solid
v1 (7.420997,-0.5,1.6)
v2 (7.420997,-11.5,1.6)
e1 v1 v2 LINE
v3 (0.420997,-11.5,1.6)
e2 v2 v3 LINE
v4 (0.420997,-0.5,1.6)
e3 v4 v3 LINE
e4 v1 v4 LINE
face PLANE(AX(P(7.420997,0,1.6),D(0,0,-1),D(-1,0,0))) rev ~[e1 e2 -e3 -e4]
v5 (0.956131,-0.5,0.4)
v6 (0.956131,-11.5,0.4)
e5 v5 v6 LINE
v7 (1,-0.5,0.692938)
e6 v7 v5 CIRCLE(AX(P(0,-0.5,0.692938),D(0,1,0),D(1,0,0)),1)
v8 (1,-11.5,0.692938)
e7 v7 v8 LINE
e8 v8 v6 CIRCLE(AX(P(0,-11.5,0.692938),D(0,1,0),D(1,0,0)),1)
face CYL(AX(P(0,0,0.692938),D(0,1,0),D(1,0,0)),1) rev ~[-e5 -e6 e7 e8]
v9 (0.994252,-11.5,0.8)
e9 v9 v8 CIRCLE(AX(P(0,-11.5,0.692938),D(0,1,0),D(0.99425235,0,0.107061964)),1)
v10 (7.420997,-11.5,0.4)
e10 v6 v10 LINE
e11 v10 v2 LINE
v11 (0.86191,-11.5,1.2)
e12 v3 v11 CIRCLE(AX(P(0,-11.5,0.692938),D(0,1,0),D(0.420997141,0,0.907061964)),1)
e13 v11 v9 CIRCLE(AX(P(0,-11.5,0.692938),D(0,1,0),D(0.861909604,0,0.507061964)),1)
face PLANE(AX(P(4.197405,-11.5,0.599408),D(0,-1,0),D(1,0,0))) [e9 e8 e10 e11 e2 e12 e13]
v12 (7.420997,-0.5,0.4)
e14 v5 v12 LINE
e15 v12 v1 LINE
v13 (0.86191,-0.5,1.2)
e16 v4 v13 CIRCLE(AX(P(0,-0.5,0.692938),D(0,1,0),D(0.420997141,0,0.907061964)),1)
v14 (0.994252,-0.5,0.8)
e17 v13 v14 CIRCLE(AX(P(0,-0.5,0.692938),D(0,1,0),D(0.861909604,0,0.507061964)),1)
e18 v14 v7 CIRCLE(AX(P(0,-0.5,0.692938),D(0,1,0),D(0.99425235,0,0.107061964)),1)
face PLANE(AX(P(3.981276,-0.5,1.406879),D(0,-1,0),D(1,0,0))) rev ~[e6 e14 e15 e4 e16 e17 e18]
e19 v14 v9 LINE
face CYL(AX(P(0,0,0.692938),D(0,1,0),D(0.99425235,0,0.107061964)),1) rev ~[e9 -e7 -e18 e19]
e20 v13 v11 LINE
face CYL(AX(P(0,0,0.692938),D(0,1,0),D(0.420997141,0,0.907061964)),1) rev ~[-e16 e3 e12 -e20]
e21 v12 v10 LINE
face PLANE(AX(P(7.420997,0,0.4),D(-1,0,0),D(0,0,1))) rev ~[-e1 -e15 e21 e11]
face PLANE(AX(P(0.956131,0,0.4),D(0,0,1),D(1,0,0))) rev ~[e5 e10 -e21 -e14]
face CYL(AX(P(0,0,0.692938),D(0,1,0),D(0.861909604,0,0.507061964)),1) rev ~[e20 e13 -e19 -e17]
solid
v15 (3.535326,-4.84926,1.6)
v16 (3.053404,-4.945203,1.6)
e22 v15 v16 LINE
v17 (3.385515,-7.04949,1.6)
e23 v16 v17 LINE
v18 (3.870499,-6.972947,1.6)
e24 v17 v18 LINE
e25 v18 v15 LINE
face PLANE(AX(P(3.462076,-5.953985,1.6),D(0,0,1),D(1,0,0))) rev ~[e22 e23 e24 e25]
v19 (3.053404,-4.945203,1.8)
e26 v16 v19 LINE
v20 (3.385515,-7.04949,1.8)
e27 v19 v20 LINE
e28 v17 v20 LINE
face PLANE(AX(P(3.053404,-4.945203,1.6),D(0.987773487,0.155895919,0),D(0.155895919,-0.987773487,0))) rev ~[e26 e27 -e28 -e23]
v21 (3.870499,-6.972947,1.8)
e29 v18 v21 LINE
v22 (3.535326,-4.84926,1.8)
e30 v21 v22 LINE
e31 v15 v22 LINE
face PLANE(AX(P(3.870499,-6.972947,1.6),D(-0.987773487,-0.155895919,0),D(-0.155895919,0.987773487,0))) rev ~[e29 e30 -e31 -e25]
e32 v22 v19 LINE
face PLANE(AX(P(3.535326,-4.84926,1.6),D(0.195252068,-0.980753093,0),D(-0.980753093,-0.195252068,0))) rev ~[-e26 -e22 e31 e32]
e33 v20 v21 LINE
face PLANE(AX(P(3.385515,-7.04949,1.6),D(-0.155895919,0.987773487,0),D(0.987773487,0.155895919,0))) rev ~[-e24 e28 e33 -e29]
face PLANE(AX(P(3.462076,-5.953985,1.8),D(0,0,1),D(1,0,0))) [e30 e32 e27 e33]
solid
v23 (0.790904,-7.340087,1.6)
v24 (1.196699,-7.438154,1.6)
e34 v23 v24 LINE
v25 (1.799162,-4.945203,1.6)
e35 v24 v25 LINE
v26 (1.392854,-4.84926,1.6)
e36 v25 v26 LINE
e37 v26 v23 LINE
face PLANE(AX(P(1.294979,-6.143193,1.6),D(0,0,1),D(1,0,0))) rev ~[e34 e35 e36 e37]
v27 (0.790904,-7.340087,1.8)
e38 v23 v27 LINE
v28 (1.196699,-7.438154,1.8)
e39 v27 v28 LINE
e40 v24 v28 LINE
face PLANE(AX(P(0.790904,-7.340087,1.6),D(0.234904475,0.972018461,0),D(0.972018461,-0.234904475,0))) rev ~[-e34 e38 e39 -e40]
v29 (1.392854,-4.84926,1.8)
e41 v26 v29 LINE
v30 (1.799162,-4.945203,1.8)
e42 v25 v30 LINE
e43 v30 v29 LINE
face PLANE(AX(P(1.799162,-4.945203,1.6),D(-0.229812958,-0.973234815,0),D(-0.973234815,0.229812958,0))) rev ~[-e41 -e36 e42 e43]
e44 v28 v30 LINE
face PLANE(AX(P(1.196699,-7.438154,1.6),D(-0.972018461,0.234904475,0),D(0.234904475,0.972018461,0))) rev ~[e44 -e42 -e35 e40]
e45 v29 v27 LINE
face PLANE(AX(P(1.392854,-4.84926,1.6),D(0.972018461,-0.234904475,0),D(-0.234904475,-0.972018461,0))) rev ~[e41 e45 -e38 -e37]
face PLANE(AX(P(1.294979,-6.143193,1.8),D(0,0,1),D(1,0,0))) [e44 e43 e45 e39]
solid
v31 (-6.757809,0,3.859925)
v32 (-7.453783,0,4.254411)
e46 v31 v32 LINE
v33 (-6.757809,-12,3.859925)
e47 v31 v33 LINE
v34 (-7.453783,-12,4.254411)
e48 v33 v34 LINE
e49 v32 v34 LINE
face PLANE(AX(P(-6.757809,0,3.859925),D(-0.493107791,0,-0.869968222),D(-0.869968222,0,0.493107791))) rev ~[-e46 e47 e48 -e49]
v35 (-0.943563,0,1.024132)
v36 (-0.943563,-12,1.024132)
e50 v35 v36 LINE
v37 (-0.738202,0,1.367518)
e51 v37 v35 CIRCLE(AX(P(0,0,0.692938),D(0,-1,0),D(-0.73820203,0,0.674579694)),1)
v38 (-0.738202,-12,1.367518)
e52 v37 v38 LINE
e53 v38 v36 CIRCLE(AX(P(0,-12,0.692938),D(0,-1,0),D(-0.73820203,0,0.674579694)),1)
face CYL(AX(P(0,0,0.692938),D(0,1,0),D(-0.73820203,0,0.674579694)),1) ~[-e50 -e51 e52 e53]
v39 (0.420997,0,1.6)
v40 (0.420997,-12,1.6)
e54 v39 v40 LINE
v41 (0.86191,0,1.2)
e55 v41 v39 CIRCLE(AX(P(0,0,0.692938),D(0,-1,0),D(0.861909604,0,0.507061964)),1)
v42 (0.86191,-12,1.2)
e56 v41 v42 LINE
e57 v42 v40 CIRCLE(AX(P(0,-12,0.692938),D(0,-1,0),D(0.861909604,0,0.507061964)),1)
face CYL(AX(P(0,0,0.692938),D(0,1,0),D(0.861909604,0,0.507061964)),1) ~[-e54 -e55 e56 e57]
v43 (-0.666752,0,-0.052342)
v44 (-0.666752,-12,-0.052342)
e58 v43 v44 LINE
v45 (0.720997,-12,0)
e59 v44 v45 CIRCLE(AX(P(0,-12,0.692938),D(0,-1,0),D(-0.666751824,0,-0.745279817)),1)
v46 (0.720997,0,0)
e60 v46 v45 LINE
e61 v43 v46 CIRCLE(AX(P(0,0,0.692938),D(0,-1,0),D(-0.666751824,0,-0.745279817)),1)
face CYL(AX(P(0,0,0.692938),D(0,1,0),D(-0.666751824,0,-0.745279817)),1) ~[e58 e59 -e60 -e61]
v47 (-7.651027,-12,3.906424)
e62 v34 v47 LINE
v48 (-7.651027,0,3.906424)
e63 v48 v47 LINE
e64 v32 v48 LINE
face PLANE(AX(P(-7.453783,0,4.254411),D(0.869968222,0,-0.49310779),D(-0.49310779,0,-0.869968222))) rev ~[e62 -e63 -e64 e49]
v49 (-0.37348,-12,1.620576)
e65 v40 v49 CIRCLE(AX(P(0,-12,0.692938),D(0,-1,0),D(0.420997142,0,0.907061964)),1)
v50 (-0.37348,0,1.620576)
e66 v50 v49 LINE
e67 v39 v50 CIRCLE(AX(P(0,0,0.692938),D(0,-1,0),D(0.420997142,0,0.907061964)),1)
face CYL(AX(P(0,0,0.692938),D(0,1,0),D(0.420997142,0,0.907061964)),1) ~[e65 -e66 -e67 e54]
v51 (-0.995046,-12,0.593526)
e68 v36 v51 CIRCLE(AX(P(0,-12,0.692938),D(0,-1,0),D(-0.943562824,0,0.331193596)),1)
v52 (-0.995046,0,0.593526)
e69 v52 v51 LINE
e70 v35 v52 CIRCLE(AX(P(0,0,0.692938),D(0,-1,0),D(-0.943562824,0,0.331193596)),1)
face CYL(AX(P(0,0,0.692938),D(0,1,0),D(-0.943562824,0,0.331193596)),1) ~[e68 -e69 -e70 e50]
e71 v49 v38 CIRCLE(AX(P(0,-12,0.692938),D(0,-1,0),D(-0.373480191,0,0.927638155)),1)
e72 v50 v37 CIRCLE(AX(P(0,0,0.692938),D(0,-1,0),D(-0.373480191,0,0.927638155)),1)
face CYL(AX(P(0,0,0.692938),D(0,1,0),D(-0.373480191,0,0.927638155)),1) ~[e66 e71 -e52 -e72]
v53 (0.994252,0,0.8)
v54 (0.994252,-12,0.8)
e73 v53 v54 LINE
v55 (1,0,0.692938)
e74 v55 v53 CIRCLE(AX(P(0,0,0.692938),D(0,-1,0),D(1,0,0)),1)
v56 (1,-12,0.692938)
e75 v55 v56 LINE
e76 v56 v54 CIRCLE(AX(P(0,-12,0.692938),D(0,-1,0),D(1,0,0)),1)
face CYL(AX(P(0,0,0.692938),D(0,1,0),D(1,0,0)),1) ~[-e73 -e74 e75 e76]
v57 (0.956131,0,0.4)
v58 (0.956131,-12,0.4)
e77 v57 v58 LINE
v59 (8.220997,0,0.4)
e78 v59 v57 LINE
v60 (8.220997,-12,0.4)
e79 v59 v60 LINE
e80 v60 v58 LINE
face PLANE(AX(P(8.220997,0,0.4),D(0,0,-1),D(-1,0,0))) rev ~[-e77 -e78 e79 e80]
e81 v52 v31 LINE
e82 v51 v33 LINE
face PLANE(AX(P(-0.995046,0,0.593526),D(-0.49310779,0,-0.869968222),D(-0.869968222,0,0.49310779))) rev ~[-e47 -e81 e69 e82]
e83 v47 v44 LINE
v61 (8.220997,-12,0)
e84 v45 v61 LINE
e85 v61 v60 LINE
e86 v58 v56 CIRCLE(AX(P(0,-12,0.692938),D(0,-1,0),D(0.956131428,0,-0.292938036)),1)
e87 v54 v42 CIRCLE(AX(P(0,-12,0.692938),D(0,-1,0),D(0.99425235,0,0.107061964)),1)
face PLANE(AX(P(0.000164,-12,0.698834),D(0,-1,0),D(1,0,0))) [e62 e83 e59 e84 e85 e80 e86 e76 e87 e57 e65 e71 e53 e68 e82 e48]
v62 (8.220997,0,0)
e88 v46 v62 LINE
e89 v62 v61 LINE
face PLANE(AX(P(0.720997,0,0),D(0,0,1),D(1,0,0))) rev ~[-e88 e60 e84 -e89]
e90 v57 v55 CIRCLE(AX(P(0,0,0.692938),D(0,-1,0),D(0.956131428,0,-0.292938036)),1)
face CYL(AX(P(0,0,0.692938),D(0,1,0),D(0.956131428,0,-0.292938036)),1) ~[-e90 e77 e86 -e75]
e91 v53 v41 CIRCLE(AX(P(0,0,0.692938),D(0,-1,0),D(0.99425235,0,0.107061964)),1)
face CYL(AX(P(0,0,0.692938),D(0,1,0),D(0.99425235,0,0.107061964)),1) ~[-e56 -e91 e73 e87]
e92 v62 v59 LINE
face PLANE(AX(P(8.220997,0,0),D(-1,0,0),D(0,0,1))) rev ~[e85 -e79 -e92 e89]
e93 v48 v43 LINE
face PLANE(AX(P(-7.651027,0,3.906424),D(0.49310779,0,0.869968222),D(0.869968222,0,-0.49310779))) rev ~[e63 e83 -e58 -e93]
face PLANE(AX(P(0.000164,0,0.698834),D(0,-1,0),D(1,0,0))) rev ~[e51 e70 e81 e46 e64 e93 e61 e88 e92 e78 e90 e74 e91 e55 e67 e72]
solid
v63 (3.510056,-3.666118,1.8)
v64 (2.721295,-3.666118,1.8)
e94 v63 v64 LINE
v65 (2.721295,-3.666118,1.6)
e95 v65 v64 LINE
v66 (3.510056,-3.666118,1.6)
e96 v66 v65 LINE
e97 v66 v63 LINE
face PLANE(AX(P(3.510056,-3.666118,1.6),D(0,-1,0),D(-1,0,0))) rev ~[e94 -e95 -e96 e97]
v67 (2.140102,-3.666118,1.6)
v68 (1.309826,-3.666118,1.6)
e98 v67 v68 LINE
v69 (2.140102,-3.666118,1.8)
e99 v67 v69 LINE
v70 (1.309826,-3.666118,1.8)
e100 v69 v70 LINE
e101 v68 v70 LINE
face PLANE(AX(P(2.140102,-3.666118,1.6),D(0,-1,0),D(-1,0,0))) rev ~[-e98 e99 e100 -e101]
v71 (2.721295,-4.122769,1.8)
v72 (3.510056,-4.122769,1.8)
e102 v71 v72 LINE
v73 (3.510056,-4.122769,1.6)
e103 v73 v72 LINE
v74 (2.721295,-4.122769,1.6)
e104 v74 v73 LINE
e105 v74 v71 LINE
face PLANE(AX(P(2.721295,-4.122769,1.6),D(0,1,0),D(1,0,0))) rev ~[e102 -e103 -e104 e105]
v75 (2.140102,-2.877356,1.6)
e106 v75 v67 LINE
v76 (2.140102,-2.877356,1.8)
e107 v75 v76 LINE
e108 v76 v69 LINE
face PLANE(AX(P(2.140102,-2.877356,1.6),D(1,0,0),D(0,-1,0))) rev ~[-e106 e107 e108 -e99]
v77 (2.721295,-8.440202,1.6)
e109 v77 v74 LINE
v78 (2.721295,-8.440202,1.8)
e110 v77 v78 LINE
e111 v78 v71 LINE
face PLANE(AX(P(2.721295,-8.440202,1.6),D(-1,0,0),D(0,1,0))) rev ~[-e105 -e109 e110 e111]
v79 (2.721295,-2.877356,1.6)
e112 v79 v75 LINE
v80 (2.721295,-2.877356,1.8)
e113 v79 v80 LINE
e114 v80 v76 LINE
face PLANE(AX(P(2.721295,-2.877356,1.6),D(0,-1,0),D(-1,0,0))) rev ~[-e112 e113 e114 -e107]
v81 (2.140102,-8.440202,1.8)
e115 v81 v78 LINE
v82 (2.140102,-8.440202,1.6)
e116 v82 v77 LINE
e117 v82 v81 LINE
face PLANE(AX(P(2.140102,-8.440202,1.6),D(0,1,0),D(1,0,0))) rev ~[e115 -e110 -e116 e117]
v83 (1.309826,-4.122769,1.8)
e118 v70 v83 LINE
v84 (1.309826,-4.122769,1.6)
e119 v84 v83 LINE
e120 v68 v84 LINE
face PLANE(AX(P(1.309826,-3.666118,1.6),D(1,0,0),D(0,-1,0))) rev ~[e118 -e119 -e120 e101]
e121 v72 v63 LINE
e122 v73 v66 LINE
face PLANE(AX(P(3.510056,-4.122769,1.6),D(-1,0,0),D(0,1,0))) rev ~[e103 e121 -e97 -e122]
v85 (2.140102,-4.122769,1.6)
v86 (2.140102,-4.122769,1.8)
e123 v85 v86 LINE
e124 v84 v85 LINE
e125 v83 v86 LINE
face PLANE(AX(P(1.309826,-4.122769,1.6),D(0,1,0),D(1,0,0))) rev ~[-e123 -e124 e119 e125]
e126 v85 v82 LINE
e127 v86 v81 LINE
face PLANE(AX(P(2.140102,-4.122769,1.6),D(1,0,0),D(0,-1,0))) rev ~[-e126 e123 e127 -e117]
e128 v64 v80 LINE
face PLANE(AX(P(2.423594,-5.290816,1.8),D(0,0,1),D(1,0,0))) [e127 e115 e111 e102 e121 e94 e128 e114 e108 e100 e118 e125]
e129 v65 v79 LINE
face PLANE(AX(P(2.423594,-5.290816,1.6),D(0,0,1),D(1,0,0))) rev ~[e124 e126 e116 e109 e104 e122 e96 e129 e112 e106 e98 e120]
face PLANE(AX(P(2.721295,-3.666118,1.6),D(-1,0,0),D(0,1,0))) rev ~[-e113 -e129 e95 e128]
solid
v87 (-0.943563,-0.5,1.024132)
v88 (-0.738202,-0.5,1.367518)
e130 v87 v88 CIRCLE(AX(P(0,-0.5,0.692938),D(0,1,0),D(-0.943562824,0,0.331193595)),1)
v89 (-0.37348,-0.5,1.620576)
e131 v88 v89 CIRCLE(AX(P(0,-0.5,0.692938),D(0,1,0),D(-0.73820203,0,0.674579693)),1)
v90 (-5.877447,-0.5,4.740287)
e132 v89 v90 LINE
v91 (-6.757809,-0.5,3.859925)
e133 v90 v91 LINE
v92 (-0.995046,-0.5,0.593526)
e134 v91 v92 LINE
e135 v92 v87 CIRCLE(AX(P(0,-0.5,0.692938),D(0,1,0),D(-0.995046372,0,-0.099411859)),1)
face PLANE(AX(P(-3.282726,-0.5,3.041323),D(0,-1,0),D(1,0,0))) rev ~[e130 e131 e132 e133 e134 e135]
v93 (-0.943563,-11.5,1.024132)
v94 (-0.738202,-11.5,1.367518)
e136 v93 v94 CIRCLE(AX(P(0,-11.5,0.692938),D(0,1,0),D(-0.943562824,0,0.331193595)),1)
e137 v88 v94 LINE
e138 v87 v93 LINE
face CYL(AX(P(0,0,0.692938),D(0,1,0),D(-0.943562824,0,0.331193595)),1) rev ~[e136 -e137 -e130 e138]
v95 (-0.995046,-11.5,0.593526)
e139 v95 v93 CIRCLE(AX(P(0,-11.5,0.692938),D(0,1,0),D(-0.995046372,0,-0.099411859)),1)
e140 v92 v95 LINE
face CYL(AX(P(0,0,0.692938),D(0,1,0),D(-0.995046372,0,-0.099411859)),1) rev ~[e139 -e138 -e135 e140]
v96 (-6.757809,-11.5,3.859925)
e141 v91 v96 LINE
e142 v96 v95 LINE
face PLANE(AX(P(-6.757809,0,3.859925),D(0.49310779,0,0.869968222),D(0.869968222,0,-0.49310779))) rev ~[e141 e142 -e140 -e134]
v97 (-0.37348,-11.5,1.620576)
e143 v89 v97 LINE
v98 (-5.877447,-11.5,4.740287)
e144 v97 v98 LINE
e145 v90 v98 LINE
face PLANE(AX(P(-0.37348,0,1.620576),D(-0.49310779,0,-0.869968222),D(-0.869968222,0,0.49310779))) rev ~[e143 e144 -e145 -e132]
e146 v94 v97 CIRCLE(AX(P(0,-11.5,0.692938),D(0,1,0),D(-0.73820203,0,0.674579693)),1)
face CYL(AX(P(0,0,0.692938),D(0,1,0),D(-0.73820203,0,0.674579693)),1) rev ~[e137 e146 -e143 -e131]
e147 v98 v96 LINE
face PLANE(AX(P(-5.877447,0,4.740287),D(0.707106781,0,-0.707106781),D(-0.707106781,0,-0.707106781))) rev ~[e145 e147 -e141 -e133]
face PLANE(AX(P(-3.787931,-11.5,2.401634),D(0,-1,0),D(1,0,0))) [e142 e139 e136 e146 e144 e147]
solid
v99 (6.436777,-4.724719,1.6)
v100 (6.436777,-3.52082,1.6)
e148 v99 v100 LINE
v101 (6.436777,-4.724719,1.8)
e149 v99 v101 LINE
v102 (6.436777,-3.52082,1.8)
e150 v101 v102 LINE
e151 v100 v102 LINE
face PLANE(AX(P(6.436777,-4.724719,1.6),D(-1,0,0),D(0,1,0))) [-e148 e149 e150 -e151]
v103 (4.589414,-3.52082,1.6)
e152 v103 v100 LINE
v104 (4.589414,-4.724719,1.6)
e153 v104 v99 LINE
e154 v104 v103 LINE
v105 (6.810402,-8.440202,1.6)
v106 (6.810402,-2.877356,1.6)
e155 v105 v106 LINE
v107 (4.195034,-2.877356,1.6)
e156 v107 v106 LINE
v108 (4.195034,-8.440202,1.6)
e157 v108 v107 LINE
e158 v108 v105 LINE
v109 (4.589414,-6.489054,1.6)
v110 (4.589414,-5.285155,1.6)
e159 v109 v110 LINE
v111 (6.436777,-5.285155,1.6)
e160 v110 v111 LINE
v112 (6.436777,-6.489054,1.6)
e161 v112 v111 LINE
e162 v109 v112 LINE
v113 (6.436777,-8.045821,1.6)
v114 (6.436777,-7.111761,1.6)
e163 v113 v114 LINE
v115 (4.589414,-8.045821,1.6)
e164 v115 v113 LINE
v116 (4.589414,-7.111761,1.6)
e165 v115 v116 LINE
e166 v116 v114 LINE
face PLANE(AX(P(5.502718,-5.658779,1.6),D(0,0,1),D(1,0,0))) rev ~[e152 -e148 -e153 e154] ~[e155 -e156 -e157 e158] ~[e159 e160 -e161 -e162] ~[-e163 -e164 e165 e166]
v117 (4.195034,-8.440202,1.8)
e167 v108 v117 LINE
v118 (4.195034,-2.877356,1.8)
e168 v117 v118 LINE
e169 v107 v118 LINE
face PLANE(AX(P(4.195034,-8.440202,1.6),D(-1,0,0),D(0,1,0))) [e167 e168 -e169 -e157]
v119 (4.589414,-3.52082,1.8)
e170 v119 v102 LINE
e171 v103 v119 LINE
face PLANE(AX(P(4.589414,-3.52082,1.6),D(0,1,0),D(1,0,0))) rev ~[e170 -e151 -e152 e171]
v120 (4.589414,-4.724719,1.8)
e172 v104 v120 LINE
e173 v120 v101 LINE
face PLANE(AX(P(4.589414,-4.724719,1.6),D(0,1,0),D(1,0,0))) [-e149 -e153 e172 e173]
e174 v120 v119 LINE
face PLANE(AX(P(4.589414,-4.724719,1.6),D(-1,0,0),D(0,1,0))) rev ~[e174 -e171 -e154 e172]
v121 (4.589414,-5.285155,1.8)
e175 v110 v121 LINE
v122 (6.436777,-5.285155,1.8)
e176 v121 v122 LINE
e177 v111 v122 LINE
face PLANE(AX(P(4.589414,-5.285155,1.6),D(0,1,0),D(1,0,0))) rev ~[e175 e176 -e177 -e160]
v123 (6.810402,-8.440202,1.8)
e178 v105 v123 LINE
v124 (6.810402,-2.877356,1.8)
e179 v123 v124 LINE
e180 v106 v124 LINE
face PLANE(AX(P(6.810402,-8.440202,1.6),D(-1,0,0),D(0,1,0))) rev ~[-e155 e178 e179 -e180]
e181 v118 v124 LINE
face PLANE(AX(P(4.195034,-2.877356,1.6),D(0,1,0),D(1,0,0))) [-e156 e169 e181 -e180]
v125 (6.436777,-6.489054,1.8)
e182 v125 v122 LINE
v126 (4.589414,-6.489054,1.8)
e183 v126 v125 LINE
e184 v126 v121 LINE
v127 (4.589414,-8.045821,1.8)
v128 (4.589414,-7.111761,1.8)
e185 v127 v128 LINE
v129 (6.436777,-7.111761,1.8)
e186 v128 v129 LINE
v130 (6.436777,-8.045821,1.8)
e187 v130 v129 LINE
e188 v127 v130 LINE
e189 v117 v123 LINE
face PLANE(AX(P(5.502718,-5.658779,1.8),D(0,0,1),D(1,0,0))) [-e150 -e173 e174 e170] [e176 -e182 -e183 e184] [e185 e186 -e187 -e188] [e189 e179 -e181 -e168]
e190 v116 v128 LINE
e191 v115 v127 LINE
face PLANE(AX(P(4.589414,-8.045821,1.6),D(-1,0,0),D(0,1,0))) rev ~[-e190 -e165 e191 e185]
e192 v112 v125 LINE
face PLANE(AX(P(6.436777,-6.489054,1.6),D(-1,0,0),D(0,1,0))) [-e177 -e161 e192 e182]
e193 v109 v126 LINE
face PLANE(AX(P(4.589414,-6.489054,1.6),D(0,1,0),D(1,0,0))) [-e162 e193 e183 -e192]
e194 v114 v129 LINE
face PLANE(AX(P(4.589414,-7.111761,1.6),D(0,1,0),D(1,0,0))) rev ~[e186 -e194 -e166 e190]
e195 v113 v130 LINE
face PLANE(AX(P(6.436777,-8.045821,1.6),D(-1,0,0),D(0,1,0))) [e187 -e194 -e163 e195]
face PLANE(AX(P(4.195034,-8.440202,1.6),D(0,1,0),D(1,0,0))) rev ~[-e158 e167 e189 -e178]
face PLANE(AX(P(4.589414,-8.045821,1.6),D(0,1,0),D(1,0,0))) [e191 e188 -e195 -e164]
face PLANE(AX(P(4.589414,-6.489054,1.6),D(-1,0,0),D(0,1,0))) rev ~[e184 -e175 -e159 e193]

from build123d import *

# Parameters (mm, degrees)
F1_DEPTH = 12
F2_DEPTH = 11.5
F3_DEPTH = 0.5
F6_DEPTH = 0.2
F5_W     = 2.6153679937
F5_H     = 5.5628458504
F5_W_2   = 1.8473630771
F5_H_2   = 0.9340597317
F5_H_3   = 1.2038992718
F5_H_4   = 1.2038995046


with BuildPart() as f1:
    # F0 (on Front) → F1 (new body)
    with BuildSketch(Plane.XZ):
        with BuildLine():
            ThreePointArc((-0.6667518235, -0.0523417812), (0.0376902395, -0.3063514346), (0.7209971417, 0))
            ThreePointArc((0.7209971417, 0), (0.8620847172, 0.1861738498), (0.9561314277, 0.4))
            ThreePointArc((0.9561314277, 0.4), (0.9889720491, 0.5448357533), (1, 0.6929380359))
            ThreePointArc((1, 0.6929380359), (0.9985620537, 0.7465461035), (0.9942523502, 0.8))
            ThreePointArc((0.9942523502, 0.8), (0.9493862752, 1.0070490043), (0.8619096035, 1.2))
            ThreePointArc((0.8619096035, 1.2), (0.6719095395, 1.4335712588), (0.4209971417, 1.6))
            ThreePointArc((0.4209971417, 1.6), (0.0258903466, 1.6926028247), (-0.3734801914, 1.6205761909))
            ThreePointArc((-0.3734801914, 1.6205761909), (-0.5700605115, 1.514540746), (-0.7382020302, 1.3675177292))
            ThreePointArc((-0.7382020302, 1.3675177292), (-0.858231763, 1.206200387), (-0.9435628237, 1.0241316314))
            ThreePointArc((-0.9435628237, 1.0241316314), (-0.9929283296, 0.8116533775), (-0.995046372, 0.5935261773))
            ThreePointArc((-0.995046372, 0.5935261773), (-0.8914480723, 0.2398151669), (-0.6667518235, -0.0523417812))
        make_face()
        with BuildLine():
            ThreePointArc((0.9561314277, 0.4), (0.8620847172, 0.1861738498), (0.7209971417, 0))
            Line((0.7209971417, 0), (8.2209971417, 0))
            Line((8.2209971417, 0), (8.2209971417, 0.4))
            Line((8.2209971417, 0.4), (7.4209971417, 0.4))
            Line((7.4209971417, 0.4), (0.9561314277, 0.4))
        make_face()
        with BuildLine():
            Line((-7.6510265364, 3.9064238207), (-0.6667518235, -0.0523417812))
            ThreePointArc((-0.6667518235, -0.0523417812), (-0.8914480723, 0.2398151669), (-0.995046372, 0.5935261773))
            Line((-0.995046372, 0.5935261773), (-6.7578088428, 3.8599248771))
            Line((-6.7578088428, 3.8599248771), (-7.4537834202, 4.2544111095))
            Line((-7.4537834202, 4.2544111095), (-7.6510265364, 3.9064238207))
        make_face()
    extrude(amount=F1_DEPTH)


with BuildPart() as f2:
    # F0 (on Front) → F2 (new body)
    with BuildSketch(Plane.XZ):
        with BuildLine():
            ThreePointArc((1, 0.6929380359), (0.9889720491, 0.5448357533), (0.9561314277, 0.4))
            Line((0.9561314277, 0.4), (7.4209971417, 0.4))
            Line((7.4209971417, 0.4), (7.4209971417, 0.8))
            Line((7.4209971417, 0.8), (0.9942523502, 0.8))
            ThreePointArc((0.9942523502, 0.8), (0.9985620537, 0.7465461035), (1, 0.6929380359))
        make_face()
        with BuildLine():
            ThreePointArc((0.8619096035, 1.2), (0.9493862752, 1.0070490043), (0.9942523502, 0.8))
            Line((0.9942523502, 0.8), (7.4209971417, 0.8))
            Line((7.4209971417, 0.8), (7.4209971417, 1.2))
            Line((7.4209971417, 1.2), (0.8619096035, 1.2))
        make_face()
        with BuildLine():
            ThreePointArc((0.4209971417, 1.6), (0.6719095395, 1.4335712588), (0.8619096035, 1.2))
            Line((0.8619096035, 1.2), (7.4209971417, 1.2))
            Line((7.4209971417, 1.2), (7.4209971417, 1.6))
            Line((7.4209971417, 1.6), (0.4209971417, 1.6))
        make_face()
    extrude(amount=F2_DEPTH)


with BuildPart() as f2b:
    # F0 (on Front) → F2, piece 2 (new body)
    with BuildSketch(Plane.XZ):
        with BuildLine():
            Line((-6.7578088428, 3.8599248771), (-0.995046372, 0.5935261773))
            ThreePointArc((-0.995046372, 0.5935261773), (-0.9929283296, 0.8116533775), (-0.9435628237, 1.0241316314))
            Line((-0.9435628237, 1.0241316314), (-6.4643549221, 4.1533787978))
            Line((-6.4643549221, 4.1533787978), (-6.7578088428, 3.8599248771))
        make_face()
        with BuildLine():
            Line((-6.4643549221, 4.1533787978), (-0.9435628237, 1.0241316314))
            ThreePointArc((-0.9435628237, 1.0241316314), (-0.858231763, 1.206200387), (-0.7382020302, 1.3675177292))
            Line((-0.7382020302, 1.3675177292), (-6.1709010014, 4.4468327185))
            Line((-6.1709010014, 4.4468327185), (-6.4643549221, 4.1533787978))
        make_face()
        with BuildLine():
            Line((-6.1709010014, 4.4468327185), (-0.7382020302, 1.3675177292))
            ThreePointArc((-0.7382020302, 1.3675177292), (-0.5700605115, 1.514540746), (-0.3734801914, 1.6205761909))
            Line((-0.3734801914, 1.6205761909), (-5.8774470807, 4.7402866392))
            Line((-5.8774470807, 4.7402866392), (-6.1709010014, 4.4468327185))
        make_face()
    extrude(amount=F2_DEPTH)


with BuildPart() as f3_tool:
    # F0 (on Front) → F3 (new body)
    with BuildSketch(Plane.XZ):
        with BuildLine():
            Line((-6.1709010014, 4.4468327185), (-0.7382020302, 1.3675177292))
            ThreePointArc((-0.7382020302, 1.3675177292), (-0.5700605115, 1.514540746), (-0.3734801914, 1.6205761909))
            Line((-0.3734801914, 1.6205761909), (-5.8774470807, 4.7402866392))
            Line((-5.8774470807, 4.7402866392), (-6.1709010014, 4.4468327185))
        make_face()
        with BuildLine():
            Line((-6.4643549221, 4.1533787978), (-0.9435628237, 1.0241316314))
            ThreePointArc((-0.9435628237, 1.0241316314), (-0.858231763, 1.206200387), (-0.7382020302, 1.3675177292))
            Line((-0.7382020302, 1.3675177292), (-6.1709010014, 4.4468327185))
            Line((-6.1709010014, 4.4468327185), (-6.4643549221, 4.1533787978))
        make_face()
        with BuildLine():
            Line((-6.7578088428, 3.8599248771), (-0.995046372, 0.5935261773))
            ThreePointArc((-0.995046372, 0.5935261773), (-0.9929283296, 0.8116533775), (-0.9435628237, 1.0241316314))
            Line((-0.9435628237, 1.0241316314), (-6.4643549221, 4.1533787978))
            Line((-6.4643549221, 4.1533787978), (-6.7578088428, 3.8599248771))
        make_face()
        with BuildLine():
            ThreePointArc((0.4209971417, 1.6), (0.6719095395, 1.4335712588), (0.8619096035, 1.2))
            Line((0.8619096035, 1.2), (7.4209971417, 1.2))
            Line((7.4209971417, 1.2), (7.4209971417, 1.6))
            Line((7.4209971417, 1.6), (0.4209971417, 1.6))
        make_face()
        with BuildLine():
            ThreePointArc((0.8619096035, 1.2), (0.9493862752, 1.0070490043), (0.9942523502, 0.8))
            Line((0.9942523502, 0.8), (7.4209971417, 0.8))
            Line((7.4209971417, 0.8), (7.4209971417, 1.2))
            Line((7.4209971417, 1.2), (0.8619096035, 1.2))
        make_face()
        with BuildLine():
            ThreePointArc((1, 0.6929380359), (0.9889720491, 0.5448357533), (0.9561314277, 0.4))
            Line((0.9561314277, 0.4), (7.4209971417, 0.4))
            Line((7.4209971417, 0.4), (7.4209971417, 0.8))
            Line((7.4209971417, 0.8), (0.9942523502, 0.8))
            ThreePointArc((0.9942523502, 0.8), (0.9985620537, 0.7465461035), (1, 0.6929380359))
        make_face()
    extrude(amount=F3_DEPTH)


with BuildPart() as f2_1:
    add(f2.part)

    # F3: cut by f3_tool
    add(f3_tool.part, mode=Mode.SUBTRACT)


with BuildPart() as f2b_1:
    add(f2b.part)

    # F3: cut by f3_tool
    add(f3_tool.part, mode=Mode.SUBTRACT)


with BuildPart() as f6:
    # F5 (on offset) → F6 (new body)
    with BuildSketch(Plane.XY.offset(1.6)):
        Polygon((1.7991621546, -4.945203089), (1.3928536791, -4.8492602073), (0.7909039268, -7.340086624), (1.1966990358, -7.438153781), align=None)
    extrude(amount=F6_DEPTH)


with BuildPart() as f6b:
    # F5 (on offset) → F6, piece 2 (new body)
    with BuildSketch(Plane.XY.offset(1.6)):
        Polygon((2.7212945279, -2.8773562517), (2.140101511, -2.8773562517), (2.140101511, -3.6661177874), (1.3098260388, -3.6661177874), (1.3098260388, -4.1227694601), (2.140101511, -4.1227694601), (2.140101511, -8.4402021021), (2.7212945279, -8.4402021021), (2.7212945279, -4.1227694601), (3.5100560635, -4.1227694601), (3.5100560635, -3.6661177874), (2.7212945279, -3.6661177874), align=None)
    extrude(amount=F6_DEPTH)


with BuildPart() as f6c:
    # F5 (on offset) → F6, piece 3 (new body)
    with BuildSketch(Plane.XY.offset(1.6)):
        Polygon((3.5353264474, -4.8492602073), (3.0534043908, -4.945203089), (3.3855147194, -7.049490232), (3.8704985958, -6.9729473728), align=None)
    extrude(amount=F6_DEPTH)


with BuildPart() as f6d:
    # F5 (on offset) → F6, piece 4 (new body)
    with BuildSketch(Plane.XY.offset(1.6)):
        with Locations((5.5027175695, -5.6587791769)):
            Rectangle(F5_W, F5_H)
        with Locations((5.5130957626, -7.5787906535)):
            Rectangle(F5_W_2, F5_H_2, mode=Mode.SUBTRACT)
        with Locations((5.5130957626, -5.887104664)):
            Rectangle(F5_W_2, F5_H_3, mode=Mode.SUBTRACT)
        with Locations((5.5130957626, -4.1227693437)):
            Rectangle(F5_W_2, F5_H_4, mode=Mode.SUBTRACT)
    extrude(amount=F6_DEPTH)


solid = Compound([f1.part, f2_1.part, f2b_1.part, f6.part, f6b.part, f6c.part, f6d.part])
